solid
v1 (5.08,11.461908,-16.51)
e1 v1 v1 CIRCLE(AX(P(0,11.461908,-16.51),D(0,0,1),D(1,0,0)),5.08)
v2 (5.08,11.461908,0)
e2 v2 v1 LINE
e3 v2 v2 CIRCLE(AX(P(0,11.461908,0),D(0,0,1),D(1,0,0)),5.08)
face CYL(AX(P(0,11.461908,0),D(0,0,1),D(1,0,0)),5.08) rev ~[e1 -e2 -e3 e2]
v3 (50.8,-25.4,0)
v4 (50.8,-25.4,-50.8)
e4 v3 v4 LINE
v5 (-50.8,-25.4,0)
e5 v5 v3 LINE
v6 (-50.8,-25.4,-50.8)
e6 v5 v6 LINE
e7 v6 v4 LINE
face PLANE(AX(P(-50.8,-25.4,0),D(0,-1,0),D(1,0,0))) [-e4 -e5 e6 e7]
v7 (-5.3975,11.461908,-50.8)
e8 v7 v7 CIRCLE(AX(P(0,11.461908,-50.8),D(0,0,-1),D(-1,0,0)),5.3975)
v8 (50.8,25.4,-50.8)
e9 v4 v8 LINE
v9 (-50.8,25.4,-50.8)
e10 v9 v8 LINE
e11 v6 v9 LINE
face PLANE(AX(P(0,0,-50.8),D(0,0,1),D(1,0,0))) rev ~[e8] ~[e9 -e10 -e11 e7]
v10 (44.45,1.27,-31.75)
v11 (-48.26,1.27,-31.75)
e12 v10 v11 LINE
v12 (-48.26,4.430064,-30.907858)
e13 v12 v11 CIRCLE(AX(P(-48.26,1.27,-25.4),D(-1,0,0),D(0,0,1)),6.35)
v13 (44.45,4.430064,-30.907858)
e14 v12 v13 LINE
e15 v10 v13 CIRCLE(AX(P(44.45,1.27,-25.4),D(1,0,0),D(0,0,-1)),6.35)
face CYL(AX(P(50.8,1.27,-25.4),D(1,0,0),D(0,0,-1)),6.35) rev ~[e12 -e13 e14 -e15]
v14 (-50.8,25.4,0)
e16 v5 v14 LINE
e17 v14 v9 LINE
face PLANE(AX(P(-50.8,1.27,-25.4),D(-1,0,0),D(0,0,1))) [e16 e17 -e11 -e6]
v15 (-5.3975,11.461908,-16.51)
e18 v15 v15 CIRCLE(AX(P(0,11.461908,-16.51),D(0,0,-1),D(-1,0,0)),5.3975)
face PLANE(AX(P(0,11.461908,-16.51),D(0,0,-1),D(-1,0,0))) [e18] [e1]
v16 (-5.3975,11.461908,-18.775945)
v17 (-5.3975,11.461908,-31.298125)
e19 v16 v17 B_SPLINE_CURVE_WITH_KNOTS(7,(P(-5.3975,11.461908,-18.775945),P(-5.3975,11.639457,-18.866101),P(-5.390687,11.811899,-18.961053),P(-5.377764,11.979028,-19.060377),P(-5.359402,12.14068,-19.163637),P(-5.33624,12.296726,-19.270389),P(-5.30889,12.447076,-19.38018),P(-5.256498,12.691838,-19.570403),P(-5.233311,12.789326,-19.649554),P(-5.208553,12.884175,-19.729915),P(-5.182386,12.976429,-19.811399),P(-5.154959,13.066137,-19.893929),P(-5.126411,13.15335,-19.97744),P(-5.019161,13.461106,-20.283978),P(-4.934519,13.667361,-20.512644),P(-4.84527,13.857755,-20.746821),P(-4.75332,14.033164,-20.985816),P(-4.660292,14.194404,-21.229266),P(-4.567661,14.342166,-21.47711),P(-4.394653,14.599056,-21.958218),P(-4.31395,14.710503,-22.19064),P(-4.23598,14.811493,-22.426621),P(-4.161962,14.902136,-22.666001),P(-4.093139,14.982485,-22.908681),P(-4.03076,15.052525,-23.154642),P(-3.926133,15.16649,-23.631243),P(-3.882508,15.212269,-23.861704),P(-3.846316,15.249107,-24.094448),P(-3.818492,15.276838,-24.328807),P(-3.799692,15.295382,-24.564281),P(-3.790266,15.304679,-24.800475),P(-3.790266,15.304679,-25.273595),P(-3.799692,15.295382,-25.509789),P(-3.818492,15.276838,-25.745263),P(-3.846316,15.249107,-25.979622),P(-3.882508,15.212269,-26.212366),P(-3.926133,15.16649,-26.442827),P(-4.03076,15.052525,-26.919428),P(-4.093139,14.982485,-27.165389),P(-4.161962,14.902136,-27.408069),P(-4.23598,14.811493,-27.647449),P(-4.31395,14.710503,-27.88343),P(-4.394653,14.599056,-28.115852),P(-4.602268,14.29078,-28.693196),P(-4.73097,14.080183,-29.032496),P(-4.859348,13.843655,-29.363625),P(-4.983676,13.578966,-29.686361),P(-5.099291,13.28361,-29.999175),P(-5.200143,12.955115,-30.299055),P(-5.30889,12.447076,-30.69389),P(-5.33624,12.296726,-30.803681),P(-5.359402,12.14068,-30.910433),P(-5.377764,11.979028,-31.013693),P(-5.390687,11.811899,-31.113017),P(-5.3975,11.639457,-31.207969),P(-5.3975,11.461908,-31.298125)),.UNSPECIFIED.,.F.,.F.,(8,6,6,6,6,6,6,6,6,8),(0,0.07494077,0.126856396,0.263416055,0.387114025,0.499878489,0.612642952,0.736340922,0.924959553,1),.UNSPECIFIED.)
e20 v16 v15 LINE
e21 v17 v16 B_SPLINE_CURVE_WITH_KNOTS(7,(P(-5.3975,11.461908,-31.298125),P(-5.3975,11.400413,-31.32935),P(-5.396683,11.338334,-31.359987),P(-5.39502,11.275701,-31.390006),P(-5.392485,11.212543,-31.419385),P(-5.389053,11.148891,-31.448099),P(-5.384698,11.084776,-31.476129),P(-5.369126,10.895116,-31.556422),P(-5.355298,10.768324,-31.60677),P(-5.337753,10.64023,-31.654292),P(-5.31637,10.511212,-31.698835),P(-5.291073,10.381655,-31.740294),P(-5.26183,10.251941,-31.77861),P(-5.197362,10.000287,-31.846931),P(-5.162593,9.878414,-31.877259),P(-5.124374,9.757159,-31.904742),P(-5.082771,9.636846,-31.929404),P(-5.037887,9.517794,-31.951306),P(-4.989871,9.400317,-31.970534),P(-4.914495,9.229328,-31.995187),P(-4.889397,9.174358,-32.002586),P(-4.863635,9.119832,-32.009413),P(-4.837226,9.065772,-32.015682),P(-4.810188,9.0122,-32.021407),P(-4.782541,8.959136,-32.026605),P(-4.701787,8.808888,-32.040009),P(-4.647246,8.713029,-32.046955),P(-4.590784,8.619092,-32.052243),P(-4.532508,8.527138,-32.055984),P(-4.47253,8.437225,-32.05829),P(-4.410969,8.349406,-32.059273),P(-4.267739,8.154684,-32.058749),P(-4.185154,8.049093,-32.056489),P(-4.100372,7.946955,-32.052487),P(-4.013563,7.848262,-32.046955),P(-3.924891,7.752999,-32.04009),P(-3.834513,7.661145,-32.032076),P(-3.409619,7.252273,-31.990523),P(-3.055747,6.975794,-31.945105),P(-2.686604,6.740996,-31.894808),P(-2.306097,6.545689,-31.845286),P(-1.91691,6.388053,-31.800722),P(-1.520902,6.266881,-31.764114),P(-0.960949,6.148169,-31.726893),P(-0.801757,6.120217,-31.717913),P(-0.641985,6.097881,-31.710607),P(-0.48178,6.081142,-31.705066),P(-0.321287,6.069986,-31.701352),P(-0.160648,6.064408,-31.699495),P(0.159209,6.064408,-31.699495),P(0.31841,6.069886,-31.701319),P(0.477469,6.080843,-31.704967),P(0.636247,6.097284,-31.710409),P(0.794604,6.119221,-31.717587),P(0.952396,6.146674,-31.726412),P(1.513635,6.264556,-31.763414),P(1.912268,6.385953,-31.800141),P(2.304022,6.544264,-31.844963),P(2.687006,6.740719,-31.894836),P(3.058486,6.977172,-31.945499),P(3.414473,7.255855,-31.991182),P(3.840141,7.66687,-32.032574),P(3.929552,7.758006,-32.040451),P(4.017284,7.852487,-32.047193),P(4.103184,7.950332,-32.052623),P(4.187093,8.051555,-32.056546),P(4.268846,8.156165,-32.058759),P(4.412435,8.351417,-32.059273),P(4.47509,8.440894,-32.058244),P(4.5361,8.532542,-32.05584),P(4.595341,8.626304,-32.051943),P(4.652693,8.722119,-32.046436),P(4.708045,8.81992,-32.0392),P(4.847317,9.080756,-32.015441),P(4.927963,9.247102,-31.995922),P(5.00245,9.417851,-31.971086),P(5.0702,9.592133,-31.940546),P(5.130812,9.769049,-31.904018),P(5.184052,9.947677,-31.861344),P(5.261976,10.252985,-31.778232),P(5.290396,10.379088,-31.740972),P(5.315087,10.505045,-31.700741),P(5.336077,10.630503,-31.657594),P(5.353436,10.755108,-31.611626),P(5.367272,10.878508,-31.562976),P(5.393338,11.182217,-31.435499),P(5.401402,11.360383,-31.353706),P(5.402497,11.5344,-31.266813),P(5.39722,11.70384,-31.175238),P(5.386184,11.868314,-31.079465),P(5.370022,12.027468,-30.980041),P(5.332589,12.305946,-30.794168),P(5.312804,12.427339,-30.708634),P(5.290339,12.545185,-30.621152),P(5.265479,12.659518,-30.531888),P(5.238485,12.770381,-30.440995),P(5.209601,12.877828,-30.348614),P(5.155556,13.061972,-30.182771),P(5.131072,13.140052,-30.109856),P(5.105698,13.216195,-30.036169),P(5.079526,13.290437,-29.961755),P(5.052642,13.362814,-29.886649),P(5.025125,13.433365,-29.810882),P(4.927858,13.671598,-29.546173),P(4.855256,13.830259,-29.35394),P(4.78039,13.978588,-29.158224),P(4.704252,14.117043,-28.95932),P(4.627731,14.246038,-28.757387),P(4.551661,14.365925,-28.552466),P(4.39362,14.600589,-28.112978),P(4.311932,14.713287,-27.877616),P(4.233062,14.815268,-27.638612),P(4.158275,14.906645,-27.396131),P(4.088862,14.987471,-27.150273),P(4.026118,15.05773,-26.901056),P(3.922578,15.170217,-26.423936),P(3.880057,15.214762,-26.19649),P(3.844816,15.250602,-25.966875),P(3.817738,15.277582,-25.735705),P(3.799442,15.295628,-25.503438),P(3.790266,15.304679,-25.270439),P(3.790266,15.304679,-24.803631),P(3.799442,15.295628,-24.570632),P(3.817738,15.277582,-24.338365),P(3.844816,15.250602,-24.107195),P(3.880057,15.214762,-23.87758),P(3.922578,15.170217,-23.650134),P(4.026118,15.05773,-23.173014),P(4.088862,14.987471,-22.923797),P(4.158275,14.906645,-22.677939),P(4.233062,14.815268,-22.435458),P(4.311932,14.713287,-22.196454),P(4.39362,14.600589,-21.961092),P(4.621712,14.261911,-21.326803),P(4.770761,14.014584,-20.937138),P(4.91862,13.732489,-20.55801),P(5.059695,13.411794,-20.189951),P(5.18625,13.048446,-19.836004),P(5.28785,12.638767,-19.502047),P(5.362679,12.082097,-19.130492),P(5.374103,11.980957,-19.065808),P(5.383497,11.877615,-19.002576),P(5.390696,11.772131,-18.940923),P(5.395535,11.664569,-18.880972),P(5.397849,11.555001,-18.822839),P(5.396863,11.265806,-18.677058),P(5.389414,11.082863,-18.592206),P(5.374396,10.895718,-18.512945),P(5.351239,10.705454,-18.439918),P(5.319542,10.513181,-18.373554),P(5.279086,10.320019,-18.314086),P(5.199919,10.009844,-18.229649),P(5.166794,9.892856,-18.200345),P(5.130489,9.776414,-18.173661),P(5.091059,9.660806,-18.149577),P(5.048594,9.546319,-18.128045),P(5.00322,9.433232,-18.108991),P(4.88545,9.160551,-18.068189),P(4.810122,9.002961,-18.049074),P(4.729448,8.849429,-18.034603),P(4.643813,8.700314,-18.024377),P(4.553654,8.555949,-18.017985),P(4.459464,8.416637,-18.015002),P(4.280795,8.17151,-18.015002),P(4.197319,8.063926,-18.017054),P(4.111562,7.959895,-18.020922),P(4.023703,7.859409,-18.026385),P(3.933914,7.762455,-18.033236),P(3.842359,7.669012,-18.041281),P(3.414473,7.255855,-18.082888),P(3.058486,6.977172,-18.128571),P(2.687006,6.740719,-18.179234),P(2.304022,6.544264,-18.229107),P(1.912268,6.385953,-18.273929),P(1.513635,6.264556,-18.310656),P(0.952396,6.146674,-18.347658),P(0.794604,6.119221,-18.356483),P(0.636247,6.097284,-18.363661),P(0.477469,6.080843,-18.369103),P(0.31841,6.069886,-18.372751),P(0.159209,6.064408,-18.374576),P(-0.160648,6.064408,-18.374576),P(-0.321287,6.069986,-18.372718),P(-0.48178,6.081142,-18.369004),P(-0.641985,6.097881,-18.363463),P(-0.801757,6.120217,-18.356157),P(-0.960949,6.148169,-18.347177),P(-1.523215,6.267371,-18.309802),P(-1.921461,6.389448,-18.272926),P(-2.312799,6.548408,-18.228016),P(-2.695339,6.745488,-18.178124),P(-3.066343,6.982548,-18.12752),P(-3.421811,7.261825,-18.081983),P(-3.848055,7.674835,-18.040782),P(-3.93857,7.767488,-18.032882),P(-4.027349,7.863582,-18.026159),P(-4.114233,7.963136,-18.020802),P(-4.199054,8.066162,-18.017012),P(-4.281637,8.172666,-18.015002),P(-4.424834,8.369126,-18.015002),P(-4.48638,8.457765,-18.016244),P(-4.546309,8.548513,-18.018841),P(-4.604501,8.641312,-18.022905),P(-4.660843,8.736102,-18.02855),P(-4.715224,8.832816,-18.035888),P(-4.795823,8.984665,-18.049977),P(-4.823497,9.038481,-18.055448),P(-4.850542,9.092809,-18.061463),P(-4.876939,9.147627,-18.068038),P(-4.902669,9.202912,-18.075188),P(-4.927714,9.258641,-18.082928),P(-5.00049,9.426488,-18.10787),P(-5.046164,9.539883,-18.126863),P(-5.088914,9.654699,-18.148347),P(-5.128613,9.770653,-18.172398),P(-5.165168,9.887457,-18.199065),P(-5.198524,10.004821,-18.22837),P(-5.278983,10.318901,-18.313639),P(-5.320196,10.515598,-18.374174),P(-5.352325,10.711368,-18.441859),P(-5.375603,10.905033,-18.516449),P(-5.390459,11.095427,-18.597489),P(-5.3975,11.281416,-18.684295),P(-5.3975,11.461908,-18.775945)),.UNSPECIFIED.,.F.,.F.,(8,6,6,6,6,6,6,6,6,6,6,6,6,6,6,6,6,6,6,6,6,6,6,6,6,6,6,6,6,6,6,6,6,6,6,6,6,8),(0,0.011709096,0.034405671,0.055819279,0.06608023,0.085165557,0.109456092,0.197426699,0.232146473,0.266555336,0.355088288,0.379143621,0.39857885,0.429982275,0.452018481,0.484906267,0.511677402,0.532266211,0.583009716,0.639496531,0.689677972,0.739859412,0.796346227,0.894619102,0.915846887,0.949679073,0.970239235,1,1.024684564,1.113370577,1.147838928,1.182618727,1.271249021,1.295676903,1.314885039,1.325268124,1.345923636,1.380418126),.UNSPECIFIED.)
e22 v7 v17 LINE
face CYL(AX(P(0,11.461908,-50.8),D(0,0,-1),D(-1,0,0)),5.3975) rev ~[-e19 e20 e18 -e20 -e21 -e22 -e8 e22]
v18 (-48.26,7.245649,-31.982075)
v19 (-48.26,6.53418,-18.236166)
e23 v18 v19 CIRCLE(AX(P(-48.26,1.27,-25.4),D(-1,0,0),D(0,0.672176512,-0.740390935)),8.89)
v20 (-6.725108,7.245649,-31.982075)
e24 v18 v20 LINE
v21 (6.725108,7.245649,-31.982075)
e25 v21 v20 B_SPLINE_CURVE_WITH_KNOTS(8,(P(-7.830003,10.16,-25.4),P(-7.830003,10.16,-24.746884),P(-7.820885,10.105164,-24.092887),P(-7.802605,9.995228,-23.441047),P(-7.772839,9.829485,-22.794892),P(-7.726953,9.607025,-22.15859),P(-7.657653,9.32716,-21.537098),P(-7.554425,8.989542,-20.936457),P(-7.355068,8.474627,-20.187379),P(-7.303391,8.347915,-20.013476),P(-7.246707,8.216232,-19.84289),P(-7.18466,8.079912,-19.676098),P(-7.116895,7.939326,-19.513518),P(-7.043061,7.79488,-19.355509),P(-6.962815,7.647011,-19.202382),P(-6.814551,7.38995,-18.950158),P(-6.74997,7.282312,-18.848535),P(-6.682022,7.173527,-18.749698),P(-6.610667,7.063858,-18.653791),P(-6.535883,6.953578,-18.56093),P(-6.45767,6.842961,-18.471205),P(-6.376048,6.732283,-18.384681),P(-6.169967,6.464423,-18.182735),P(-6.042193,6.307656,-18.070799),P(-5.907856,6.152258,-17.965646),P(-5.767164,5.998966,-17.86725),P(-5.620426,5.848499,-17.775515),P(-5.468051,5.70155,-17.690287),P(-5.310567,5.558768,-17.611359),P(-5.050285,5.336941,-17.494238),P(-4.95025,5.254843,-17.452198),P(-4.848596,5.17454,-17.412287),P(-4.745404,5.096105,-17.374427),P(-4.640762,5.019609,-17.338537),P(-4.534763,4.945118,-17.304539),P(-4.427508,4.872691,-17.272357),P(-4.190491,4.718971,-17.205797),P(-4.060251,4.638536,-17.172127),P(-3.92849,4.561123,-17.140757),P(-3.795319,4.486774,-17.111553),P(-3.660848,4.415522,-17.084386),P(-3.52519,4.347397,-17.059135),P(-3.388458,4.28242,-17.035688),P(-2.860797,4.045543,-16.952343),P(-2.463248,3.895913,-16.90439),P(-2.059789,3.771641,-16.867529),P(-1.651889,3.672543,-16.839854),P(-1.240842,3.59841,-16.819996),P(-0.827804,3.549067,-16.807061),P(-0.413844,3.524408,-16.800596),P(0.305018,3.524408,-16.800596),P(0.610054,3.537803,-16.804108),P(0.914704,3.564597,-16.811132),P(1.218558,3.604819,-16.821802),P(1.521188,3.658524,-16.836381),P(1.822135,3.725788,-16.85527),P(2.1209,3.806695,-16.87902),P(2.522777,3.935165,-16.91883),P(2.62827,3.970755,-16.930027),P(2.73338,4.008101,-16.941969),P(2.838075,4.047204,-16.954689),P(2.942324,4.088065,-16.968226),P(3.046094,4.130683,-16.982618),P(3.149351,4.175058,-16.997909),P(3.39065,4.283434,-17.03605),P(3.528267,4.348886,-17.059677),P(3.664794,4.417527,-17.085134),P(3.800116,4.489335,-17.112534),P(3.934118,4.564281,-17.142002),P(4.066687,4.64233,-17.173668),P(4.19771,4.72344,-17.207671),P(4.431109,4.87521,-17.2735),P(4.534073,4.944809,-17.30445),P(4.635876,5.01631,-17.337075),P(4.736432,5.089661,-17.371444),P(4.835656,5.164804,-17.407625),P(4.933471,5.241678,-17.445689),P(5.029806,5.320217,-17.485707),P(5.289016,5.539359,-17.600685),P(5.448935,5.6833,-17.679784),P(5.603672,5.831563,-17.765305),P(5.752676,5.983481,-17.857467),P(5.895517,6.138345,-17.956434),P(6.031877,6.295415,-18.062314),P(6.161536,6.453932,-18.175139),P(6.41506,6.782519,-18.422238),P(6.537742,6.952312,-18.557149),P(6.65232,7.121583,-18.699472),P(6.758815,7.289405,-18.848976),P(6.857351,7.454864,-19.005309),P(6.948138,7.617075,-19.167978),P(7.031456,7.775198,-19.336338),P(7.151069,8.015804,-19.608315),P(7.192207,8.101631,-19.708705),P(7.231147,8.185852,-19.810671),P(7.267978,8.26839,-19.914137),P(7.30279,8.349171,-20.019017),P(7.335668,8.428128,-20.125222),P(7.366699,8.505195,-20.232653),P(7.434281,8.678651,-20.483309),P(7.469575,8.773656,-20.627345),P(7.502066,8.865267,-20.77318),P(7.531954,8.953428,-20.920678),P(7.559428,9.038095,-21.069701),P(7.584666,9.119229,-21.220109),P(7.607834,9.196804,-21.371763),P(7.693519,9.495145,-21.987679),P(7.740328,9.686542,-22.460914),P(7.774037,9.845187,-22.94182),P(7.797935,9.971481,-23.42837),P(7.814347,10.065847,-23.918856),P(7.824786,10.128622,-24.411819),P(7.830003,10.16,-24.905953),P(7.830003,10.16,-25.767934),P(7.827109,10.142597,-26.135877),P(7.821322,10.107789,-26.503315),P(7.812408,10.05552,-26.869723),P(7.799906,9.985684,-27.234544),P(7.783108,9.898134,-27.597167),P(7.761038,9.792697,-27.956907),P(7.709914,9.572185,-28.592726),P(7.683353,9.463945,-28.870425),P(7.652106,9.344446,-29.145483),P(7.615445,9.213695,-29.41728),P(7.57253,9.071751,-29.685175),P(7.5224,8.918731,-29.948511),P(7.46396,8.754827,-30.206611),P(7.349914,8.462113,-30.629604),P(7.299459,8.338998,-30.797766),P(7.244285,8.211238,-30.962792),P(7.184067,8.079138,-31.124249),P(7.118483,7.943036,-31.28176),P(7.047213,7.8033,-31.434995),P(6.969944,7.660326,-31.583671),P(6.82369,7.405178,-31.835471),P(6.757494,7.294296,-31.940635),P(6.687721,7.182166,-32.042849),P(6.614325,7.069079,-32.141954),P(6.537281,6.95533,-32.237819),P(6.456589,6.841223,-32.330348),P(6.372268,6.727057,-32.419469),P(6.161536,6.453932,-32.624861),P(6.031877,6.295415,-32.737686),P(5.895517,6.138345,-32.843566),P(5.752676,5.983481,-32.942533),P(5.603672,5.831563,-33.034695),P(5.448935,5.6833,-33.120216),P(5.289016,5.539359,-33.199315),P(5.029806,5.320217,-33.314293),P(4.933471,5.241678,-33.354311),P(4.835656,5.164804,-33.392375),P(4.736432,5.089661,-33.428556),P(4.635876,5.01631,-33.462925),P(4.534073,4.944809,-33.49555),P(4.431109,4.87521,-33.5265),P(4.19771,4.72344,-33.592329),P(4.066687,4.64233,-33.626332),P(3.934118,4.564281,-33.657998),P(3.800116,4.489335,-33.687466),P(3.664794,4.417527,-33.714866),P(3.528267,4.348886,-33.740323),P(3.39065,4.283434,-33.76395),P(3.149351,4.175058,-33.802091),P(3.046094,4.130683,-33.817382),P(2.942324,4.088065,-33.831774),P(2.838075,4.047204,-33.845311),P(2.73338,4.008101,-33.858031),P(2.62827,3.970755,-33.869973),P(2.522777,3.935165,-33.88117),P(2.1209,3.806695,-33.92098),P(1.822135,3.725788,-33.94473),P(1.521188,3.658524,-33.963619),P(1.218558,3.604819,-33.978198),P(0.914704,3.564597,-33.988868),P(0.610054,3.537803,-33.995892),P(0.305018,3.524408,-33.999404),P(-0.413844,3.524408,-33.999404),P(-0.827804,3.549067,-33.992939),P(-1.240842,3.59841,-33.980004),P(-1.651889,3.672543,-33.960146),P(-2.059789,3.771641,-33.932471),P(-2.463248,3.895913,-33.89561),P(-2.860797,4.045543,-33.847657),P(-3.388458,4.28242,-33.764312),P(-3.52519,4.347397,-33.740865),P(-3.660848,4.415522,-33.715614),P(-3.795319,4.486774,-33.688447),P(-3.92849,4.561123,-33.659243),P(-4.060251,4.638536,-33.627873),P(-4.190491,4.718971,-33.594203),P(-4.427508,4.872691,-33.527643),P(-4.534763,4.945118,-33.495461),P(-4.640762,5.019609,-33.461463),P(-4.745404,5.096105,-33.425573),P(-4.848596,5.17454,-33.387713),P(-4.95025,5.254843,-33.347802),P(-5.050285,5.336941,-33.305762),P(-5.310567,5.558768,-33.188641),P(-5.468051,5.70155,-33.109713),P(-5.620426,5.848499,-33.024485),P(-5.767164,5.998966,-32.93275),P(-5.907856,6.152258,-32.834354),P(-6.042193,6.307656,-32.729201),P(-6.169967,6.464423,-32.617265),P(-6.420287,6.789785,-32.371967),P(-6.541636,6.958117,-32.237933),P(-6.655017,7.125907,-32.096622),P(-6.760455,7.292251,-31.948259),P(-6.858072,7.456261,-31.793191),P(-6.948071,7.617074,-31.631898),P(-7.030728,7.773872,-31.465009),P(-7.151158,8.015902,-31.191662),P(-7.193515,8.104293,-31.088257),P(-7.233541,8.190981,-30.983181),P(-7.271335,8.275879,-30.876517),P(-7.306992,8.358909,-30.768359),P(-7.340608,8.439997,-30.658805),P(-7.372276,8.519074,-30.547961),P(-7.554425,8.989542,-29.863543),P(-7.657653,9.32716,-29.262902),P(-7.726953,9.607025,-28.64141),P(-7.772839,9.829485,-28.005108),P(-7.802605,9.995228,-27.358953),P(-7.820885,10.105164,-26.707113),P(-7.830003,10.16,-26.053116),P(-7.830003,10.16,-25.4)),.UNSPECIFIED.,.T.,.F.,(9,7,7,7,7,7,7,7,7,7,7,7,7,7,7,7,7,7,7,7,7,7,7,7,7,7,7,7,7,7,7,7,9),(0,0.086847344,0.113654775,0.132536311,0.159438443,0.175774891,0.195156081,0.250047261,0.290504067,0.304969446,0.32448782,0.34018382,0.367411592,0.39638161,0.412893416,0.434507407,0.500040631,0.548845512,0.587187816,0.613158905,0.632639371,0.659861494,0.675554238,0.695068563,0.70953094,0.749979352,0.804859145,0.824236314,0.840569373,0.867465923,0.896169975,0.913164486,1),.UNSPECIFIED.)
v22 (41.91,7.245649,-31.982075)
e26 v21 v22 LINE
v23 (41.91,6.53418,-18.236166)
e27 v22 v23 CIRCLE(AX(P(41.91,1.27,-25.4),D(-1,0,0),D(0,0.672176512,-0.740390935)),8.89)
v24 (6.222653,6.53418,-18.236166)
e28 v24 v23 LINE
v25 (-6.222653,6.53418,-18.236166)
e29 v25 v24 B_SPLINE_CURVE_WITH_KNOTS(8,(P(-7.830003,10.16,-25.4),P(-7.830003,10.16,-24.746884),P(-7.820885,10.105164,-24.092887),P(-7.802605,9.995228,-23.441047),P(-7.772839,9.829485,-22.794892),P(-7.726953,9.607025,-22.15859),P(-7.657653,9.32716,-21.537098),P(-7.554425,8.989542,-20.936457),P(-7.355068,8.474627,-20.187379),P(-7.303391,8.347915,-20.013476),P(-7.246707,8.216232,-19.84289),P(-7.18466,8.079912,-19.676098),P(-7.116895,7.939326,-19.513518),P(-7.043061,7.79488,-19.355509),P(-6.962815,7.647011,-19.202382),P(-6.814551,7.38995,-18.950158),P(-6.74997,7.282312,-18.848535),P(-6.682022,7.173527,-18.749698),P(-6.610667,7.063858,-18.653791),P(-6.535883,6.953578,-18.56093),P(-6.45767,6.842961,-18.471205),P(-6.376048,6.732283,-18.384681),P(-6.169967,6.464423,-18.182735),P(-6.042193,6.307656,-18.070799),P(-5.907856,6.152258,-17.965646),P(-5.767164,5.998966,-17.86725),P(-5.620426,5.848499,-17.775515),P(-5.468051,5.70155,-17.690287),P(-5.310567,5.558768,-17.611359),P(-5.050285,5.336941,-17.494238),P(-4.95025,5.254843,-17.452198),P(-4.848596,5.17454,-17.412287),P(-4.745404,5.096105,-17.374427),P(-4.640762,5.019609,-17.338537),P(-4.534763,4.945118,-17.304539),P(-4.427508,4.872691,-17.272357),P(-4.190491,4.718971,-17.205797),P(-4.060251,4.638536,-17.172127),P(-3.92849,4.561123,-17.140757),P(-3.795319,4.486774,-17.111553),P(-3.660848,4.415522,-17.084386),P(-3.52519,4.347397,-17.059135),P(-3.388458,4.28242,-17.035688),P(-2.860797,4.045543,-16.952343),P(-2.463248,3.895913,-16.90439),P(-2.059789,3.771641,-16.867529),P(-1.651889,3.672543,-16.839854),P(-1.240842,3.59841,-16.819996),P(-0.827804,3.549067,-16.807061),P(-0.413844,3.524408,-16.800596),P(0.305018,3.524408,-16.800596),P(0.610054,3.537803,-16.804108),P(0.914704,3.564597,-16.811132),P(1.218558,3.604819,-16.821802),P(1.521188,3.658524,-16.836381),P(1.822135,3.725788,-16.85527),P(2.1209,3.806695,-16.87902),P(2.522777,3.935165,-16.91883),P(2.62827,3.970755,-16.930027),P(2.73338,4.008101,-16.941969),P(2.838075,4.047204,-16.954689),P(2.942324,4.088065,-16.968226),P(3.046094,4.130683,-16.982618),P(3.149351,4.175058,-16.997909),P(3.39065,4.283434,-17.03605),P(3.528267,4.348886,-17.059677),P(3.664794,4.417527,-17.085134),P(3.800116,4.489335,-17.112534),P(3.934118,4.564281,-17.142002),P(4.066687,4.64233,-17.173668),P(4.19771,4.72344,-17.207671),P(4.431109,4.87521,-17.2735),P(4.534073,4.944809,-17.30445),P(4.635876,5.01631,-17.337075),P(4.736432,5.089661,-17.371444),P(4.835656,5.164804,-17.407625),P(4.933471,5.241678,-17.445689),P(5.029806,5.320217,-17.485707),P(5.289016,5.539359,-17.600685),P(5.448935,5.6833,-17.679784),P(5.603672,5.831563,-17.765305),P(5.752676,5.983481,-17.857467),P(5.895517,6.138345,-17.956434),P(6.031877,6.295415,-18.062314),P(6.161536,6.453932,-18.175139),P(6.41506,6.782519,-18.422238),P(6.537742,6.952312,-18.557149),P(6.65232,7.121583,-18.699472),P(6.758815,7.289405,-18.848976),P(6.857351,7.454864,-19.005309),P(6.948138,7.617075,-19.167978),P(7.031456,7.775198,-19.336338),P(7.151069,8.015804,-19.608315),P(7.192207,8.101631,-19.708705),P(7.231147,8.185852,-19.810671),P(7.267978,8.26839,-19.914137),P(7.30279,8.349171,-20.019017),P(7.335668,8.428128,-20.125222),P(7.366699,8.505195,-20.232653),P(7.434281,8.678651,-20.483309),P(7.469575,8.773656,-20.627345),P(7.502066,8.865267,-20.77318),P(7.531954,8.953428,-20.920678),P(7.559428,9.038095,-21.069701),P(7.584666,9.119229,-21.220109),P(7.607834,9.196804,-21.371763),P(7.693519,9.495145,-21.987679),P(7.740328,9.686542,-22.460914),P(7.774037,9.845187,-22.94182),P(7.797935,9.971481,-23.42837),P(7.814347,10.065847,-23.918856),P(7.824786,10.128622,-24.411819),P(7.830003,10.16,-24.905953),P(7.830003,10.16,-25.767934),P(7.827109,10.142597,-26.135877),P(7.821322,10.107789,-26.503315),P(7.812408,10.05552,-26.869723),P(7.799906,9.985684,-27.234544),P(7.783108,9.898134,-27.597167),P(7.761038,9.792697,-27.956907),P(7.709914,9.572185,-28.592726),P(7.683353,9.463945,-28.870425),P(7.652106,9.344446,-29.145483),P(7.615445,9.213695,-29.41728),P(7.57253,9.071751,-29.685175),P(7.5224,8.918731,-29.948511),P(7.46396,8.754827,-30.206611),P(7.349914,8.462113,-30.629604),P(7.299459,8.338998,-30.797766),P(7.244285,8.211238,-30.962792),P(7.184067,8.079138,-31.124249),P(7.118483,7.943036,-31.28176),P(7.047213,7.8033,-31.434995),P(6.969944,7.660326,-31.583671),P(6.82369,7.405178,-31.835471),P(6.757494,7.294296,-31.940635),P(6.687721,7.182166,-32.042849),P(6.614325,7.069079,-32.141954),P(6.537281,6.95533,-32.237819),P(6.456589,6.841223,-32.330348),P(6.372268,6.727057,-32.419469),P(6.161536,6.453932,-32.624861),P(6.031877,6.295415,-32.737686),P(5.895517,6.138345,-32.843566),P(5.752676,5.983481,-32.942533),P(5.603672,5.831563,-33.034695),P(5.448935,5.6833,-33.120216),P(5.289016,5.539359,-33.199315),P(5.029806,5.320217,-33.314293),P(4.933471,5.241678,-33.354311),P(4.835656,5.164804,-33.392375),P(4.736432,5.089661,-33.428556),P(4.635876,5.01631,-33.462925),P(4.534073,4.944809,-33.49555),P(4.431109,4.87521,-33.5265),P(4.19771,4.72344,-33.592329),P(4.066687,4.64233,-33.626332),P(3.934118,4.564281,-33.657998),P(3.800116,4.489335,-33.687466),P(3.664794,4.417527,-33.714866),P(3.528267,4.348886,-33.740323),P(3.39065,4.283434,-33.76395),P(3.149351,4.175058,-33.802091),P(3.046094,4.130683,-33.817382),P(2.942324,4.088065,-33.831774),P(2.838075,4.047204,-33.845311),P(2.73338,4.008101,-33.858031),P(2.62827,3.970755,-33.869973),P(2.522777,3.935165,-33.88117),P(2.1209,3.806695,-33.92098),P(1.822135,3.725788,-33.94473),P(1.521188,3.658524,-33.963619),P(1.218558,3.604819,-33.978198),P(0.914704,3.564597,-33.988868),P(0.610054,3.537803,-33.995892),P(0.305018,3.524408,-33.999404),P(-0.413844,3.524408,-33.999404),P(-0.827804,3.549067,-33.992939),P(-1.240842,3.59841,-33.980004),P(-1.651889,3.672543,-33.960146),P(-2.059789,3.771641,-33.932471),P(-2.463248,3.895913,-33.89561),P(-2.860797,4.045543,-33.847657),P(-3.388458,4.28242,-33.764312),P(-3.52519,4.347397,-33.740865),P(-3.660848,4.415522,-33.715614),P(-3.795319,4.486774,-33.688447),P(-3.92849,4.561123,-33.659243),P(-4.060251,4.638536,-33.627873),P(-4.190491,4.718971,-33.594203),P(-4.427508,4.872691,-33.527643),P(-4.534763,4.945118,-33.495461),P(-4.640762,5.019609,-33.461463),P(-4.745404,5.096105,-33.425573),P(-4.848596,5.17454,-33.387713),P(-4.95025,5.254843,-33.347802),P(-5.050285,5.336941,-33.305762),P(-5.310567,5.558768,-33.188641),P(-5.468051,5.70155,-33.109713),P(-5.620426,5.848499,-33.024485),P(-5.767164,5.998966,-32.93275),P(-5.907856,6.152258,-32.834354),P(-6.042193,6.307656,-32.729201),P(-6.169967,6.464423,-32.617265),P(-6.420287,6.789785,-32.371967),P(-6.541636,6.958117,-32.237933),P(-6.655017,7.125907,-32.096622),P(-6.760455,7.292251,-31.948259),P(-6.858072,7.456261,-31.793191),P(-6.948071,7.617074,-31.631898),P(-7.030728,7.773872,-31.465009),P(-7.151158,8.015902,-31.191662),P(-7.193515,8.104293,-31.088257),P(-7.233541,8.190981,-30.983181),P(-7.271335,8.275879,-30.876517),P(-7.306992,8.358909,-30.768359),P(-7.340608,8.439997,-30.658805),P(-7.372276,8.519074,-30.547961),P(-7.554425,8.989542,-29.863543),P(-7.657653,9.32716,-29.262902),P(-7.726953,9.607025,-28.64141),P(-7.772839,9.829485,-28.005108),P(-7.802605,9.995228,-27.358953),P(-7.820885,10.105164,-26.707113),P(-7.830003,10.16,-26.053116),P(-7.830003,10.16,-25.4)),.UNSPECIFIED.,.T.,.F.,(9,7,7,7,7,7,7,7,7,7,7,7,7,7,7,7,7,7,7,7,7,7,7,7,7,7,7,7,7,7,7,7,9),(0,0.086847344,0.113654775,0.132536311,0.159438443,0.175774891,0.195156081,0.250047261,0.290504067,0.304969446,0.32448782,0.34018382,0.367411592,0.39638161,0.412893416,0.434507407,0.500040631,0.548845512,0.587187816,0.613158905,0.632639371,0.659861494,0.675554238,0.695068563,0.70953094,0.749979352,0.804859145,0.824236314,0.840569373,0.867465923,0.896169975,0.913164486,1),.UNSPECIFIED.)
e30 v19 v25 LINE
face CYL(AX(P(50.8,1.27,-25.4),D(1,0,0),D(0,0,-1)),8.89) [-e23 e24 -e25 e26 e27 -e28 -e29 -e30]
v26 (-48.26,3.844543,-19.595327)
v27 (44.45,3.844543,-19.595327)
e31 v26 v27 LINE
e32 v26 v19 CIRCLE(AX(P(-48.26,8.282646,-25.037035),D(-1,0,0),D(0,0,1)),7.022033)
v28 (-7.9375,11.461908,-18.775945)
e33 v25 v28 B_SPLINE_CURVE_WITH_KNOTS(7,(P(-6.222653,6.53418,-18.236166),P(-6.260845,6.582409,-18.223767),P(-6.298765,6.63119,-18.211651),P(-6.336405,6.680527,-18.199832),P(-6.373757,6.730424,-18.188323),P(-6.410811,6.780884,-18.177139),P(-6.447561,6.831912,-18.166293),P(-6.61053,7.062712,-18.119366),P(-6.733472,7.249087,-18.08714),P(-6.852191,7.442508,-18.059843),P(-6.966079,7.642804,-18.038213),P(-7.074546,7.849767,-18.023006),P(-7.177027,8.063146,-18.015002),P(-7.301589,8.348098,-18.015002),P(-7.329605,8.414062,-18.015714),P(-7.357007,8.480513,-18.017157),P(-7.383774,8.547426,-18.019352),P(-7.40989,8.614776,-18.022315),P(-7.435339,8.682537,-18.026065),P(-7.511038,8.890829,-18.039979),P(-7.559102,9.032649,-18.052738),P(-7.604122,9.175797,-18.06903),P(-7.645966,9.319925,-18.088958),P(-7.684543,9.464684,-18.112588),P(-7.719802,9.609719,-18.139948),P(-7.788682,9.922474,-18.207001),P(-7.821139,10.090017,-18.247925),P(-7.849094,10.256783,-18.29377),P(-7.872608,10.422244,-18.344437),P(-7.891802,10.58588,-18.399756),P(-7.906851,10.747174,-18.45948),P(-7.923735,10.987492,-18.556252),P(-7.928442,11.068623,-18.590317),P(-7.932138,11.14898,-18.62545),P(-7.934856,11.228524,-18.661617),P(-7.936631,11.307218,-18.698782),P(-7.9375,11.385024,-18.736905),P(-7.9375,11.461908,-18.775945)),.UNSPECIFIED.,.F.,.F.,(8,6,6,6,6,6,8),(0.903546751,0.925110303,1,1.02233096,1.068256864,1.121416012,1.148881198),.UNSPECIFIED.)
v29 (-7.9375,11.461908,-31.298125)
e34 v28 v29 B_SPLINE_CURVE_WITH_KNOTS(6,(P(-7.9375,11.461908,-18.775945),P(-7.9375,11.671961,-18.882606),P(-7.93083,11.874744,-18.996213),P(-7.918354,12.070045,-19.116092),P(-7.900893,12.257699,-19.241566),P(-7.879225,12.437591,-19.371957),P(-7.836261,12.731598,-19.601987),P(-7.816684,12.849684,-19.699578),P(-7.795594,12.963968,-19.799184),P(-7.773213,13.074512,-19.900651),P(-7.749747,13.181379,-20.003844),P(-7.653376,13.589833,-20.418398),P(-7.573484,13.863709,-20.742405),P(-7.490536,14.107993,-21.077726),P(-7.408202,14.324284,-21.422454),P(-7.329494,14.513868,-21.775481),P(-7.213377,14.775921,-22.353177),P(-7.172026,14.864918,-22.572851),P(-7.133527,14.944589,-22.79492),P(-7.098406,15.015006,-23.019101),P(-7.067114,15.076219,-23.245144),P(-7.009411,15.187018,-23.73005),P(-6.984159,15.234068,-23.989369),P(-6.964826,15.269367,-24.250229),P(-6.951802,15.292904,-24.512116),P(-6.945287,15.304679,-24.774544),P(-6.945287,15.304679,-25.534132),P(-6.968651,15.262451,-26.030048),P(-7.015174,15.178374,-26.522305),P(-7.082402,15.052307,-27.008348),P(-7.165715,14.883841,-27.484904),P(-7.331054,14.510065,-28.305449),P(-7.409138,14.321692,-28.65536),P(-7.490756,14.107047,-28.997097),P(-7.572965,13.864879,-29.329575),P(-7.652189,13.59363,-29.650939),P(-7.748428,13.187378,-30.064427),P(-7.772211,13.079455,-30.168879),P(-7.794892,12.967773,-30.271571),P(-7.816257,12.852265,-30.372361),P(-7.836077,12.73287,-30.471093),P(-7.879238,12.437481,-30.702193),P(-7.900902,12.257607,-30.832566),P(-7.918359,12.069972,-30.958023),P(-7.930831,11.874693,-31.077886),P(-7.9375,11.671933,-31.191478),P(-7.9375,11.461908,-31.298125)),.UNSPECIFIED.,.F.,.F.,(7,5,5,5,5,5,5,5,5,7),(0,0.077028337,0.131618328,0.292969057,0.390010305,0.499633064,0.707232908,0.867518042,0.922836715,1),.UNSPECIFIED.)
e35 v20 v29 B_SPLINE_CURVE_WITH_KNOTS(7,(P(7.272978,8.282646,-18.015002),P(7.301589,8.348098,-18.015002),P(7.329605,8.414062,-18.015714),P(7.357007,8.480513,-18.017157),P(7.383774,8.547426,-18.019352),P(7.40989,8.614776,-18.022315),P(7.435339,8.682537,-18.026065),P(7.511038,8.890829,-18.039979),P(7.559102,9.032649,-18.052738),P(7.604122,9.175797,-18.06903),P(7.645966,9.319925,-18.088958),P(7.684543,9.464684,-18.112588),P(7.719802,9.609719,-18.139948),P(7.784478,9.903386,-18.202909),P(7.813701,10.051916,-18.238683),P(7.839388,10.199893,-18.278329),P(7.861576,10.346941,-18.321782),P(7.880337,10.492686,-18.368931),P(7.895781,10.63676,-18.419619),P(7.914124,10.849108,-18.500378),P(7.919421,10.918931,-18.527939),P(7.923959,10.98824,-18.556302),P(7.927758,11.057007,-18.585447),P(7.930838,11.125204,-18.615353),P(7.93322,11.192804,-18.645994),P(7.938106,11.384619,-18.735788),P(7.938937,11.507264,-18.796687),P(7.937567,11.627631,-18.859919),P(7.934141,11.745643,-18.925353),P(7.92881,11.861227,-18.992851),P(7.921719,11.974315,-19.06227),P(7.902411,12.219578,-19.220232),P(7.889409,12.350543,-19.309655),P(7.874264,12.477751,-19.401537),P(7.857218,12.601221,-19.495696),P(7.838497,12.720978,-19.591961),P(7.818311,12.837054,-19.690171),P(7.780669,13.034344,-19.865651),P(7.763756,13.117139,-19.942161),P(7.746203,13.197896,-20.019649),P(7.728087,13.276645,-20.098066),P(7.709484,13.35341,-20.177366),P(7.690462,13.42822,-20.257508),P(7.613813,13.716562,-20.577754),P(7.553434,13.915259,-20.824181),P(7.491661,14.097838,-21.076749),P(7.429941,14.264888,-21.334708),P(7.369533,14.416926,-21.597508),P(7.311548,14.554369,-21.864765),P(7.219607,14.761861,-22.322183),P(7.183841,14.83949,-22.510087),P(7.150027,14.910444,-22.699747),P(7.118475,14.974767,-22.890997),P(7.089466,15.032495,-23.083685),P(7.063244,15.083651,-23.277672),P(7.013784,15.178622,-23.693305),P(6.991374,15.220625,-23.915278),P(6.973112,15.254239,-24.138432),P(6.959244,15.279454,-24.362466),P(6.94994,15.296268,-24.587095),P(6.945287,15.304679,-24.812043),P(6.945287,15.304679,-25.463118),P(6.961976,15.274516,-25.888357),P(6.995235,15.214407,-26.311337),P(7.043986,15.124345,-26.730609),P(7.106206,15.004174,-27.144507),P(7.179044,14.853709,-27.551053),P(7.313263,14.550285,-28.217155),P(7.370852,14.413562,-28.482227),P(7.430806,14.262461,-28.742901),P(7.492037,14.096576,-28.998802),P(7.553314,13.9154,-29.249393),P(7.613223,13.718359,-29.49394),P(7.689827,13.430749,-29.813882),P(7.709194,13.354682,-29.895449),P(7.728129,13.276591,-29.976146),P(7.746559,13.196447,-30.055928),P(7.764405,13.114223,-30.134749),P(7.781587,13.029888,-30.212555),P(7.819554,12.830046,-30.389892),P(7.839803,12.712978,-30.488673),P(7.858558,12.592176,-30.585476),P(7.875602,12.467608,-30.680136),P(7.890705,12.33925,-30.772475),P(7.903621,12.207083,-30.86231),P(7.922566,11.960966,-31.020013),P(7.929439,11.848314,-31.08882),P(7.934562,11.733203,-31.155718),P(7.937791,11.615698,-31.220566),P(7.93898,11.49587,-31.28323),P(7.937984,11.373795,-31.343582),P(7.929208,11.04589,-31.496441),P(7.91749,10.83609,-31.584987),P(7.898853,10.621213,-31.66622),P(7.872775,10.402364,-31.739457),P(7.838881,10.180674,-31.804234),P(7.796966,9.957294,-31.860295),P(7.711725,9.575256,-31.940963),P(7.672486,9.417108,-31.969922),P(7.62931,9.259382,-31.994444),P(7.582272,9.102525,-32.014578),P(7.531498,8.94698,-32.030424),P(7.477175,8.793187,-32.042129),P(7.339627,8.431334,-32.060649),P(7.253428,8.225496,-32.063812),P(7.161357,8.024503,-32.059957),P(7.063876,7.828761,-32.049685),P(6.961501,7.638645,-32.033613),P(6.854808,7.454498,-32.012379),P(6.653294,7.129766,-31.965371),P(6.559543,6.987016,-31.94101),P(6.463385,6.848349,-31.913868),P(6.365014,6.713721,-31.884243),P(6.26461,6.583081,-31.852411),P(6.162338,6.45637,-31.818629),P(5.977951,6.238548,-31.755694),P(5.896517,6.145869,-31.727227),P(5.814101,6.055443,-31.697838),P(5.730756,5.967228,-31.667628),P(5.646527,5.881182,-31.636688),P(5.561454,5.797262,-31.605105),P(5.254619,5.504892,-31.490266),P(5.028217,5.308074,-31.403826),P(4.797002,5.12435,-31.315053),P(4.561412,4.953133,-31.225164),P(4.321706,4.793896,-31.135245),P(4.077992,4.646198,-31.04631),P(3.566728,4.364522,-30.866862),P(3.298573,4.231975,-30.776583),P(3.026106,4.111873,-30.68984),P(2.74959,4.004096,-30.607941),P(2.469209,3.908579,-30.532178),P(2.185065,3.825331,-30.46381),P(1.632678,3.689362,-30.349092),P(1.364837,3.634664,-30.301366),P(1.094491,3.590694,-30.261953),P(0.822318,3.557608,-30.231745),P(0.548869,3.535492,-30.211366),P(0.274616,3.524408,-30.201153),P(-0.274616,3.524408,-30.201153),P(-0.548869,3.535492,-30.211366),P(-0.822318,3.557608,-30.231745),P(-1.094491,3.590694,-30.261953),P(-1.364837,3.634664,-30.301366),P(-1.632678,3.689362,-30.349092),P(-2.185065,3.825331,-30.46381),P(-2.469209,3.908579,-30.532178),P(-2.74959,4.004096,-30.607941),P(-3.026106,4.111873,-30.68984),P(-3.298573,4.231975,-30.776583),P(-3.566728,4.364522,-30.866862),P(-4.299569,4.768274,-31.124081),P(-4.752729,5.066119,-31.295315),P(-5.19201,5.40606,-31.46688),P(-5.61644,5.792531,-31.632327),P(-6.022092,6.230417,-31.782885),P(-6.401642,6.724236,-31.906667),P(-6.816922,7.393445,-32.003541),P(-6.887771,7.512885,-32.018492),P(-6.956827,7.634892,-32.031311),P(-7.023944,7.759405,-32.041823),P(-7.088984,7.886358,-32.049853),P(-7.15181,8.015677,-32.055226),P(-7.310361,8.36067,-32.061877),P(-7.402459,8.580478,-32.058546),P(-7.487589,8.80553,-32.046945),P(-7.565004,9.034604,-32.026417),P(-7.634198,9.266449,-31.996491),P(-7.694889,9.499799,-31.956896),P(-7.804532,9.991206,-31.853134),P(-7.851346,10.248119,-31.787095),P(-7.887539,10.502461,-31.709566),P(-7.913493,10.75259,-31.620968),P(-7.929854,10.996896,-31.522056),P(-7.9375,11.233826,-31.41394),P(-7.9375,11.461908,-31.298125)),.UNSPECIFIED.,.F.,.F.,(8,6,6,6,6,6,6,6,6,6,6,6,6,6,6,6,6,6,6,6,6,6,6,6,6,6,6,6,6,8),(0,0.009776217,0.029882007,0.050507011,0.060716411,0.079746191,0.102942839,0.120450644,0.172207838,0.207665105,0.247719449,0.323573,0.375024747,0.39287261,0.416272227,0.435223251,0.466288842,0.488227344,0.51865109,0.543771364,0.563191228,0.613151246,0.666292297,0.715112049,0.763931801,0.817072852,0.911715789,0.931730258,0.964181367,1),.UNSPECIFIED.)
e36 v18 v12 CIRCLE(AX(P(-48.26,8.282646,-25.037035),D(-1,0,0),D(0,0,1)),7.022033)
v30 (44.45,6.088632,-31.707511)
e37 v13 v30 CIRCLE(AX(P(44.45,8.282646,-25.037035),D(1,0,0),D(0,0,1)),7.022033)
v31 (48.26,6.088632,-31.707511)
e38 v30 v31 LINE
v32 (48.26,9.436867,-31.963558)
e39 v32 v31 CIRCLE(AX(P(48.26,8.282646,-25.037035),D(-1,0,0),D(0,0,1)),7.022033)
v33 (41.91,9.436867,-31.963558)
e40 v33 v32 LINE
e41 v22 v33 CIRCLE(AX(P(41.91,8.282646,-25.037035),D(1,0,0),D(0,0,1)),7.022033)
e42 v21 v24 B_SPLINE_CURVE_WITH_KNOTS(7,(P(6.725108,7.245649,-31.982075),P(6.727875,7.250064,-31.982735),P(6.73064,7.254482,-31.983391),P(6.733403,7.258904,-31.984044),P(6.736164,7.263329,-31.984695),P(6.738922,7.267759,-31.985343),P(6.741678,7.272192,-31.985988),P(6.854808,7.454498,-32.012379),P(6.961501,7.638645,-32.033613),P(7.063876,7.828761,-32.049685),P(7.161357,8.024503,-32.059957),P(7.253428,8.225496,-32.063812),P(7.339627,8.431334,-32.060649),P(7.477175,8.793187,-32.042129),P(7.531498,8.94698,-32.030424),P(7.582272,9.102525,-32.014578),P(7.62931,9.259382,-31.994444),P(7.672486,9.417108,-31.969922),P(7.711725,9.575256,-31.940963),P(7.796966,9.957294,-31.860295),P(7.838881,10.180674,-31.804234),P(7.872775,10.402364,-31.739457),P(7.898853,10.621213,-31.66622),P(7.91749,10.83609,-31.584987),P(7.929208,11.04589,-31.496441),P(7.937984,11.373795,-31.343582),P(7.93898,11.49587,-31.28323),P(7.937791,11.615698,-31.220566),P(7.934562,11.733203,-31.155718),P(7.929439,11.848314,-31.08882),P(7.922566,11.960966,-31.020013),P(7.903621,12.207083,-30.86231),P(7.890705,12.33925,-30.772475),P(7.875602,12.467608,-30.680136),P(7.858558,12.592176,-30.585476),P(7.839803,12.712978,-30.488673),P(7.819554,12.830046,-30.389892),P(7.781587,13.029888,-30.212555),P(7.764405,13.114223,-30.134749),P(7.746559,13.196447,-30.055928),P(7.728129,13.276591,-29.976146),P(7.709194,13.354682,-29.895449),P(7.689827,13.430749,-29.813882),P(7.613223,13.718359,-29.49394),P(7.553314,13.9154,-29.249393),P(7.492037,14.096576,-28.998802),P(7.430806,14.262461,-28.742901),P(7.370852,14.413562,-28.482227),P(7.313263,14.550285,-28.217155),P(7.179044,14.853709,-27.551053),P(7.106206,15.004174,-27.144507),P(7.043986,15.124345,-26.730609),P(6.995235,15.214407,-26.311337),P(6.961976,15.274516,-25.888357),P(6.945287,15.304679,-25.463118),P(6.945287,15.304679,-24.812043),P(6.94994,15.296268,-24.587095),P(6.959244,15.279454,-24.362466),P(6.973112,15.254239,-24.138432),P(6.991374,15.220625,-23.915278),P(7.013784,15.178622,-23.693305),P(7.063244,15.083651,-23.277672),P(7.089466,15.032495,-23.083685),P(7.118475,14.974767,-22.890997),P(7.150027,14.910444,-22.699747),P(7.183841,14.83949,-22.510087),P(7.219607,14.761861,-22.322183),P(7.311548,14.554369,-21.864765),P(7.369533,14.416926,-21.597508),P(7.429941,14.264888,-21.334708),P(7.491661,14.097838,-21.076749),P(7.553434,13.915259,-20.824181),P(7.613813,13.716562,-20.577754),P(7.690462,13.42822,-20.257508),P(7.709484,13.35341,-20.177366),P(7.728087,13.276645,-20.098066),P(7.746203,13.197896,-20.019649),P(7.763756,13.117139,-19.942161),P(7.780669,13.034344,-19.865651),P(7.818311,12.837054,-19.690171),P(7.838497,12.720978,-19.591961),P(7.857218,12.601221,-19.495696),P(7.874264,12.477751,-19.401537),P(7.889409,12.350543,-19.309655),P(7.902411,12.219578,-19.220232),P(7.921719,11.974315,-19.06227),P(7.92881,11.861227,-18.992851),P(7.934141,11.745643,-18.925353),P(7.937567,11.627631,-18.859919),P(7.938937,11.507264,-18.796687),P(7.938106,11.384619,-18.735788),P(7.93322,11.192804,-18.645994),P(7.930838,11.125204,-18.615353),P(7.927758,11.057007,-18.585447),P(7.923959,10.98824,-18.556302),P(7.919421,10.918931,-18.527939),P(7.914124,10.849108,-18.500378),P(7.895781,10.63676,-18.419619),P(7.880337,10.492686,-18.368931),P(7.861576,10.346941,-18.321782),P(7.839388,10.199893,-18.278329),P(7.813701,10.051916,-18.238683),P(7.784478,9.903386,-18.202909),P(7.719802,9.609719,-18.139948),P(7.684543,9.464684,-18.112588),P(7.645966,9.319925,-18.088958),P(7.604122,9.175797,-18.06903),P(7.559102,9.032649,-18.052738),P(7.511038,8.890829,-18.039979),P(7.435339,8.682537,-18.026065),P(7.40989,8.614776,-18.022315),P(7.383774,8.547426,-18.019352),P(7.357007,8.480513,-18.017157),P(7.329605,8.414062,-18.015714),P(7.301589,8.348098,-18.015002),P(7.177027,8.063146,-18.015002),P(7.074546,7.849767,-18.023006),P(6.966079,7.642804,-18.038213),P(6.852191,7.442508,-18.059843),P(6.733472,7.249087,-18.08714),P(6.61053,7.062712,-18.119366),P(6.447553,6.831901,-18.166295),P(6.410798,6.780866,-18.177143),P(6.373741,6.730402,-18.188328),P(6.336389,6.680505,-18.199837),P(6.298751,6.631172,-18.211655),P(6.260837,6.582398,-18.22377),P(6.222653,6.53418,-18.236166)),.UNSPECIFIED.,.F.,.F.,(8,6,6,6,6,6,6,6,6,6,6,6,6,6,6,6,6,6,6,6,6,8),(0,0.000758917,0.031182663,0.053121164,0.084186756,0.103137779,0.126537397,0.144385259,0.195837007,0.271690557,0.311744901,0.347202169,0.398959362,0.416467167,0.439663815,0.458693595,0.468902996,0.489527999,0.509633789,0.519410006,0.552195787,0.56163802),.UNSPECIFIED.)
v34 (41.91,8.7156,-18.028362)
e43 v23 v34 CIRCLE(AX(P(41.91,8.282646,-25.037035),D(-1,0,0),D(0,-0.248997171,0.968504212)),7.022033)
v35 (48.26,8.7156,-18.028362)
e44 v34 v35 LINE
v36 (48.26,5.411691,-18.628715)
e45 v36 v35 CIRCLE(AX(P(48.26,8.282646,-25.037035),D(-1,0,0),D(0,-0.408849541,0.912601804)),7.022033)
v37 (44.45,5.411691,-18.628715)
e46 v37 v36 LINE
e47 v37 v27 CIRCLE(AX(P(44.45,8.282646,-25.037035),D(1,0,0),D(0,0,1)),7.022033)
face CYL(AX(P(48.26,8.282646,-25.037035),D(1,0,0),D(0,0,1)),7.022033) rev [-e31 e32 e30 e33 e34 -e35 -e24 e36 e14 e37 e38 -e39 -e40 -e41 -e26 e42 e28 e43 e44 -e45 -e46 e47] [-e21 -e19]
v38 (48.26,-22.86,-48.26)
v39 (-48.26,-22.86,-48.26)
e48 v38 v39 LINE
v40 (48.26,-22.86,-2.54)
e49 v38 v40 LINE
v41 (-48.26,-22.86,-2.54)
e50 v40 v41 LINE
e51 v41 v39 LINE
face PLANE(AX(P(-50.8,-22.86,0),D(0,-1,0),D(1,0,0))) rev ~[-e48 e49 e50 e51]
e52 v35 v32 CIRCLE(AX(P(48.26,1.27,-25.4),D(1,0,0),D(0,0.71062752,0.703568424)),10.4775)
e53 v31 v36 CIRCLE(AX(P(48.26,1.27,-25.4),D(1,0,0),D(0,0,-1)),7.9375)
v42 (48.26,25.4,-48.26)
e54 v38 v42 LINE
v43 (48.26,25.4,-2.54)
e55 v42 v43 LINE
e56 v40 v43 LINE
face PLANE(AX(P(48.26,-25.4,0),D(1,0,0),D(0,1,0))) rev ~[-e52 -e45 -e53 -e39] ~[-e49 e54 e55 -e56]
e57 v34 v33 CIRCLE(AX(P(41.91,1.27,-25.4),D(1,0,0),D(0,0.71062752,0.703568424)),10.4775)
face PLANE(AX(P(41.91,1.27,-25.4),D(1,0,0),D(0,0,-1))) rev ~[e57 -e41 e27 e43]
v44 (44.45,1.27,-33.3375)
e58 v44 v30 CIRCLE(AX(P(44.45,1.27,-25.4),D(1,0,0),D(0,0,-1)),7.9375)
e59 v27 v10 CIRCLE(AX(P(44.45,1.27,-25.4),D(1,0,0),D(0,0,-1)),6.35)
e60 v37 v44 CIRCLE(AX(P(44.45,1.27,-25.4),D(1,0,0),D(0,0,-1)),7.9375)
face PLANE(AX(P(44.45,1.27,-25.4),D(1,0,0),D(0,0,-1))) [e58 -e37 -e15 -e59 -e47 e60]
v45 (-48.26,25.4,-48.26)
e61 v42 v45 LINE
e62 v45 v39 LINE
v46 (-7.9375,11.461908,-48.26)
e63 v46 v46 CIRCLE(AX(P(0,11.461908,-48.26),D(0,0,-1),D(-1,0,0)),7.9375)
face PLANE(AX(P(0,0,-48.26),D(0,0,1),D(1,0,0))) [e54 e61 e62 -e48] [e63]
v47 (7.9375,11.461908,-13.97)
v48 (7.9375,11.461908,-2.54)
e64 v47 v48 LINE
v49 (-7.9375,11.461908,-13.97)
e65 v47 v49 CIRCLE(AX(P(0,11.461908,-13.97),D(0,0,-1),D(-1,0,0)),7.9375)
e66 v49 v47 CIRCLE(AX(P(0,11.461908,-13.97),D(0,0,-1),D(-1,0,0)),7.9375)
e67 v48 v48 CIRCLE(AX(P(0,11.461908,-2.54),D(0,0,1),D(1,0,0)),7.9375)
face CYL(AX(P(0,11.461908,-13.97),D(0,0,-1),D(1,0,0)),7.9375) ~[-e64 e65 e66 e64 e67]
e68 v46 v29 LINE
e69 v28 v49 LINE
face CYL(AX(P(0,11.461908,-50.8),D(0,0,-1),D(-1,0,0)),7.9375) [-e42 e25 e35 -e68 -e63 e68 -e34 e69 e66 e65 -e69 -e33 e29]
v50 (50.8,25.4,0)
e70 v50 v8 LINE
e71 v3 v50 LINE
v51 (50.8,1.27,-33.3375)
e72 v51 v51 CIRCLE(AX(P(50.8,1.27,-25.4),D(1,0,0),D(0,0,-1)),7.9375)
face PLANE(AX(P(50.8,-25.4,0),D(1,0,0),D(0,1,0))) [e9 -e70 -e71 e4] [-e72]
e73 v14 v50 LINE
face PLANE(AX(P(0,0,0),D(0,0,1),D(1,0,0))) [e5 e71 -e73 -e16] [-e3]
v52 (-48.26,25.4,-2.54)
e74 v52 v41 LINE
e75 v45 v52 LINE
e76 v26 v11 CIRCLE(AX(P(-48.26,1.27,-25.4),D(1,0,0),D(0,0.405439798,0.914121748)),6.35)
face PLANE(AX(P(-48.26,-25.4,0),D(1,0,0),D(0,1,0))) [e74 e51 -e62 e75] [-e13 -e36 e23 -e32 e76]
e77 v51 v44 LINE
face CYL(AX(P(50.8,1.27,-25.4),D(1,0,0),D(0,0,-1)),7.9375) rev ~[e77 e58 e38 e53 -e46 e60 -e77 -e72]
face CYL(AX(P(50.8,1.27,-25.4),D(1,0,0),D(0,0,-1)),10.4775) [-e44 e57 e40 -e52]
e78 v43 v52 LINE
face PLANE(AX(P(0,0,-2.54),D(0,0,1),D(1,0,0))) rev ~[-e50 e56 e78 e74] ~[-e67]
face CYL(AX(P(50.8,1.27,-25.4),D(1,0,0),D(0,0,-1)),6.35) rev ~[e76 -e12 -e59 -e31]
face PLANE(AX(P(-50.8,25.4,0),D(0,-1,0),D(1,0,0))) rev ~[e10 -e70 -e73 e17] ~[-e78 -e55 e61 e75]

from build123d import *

# Parameters (mm, degrees)
SKETCH1_W           = 101.6
SKETCH1_H           = 50.8
BOSS_EXTRUDE1_DEPTH = 50.8
SKETCH2_R           = 7.9375
CUT_EXTRUDE1_DEPTH  = 6.35
SKETCH3_R           = 6.35
CUT_EXTRUDE2_DEPTH  = 102.6
SKETCH4_R           = 5.3975
CUT_EXTRUDE3_DEPTH  = 34.29
SHELL9_T            = -2.54
SKETCH5_R           = 7.022033088
CUT_EXTRUDE4_DEPTH  = 96.52
SKETCH7_R           = 7.9375
BOSS_EXTRUDE3_DEPTH = 11.43
SKETCH9_R           = 5.08
CUT_EXTRUDE5_DEPTH  = 34.29
SKETCH10_R          = 6.35
BOSS_EXTRUDE4_DEPTH = 2.54


with BuildPart() as part:
    # Sketch1 → Boss-Extrude1 (new body)
    with BuildSketch(Plane.XY):
        Rectangle(SKETCH1_W, SKETCH1_H)
    extrude(amount=-BOSS_EXTRUDE1_DEPTH)

    # Sketch2 → Cut-Extrude1 (cut)
    with BuildSketch(Plane(origin=(50.8, 0, 0), x_dir=(0, 0, -1), z_dir=(1, 0, 0))):
        with Locations((25.4, 1.27)):
            Circle(SKETCH2_R)
    extrude(amount=-CUT_EXTRUDE1_DEPTH, mode=Mode.SUBTRACT)

    # Sketch3 → Cut-Extrude2 (cut, through all)
    with BuildSketch(Plane(origin=(50.8, 0, 0), x_dir=(0, 0, -1), z_dir=(1, 0, 0))):
        with Locations((25.4, 1.27)):
            Circle(SKETCH3_R)
    extrude(amount=-CUT_EXTRUDE2_DEPTH, mode=Mode.SUBTRACT)

    # Sketch4 → Cut-Extrude3 (cut)
    with BuildSketch(Plane(origin=(0, 0, -50.8), x_dir=(-1, 0, 0), z_dir=(0, 0, -1))):
        with Locations((0, 11.461907579)):
            Circle(SKETCH4_R)
    extrude(amount=-CUT_EXTRUDE3_DEPTH, mode=Mode.SUBTRACT)

    # Shell9
    shell9_openings = [part.faces().sort_by_distance(p)[0] for p in [
        (0, 25.4, -25.4),
    ]]
    offset(amount=SHELL9_T, openings=shell9_openings, kind=Kind.INTERSECTION)

    # Sketch5 → Cut-Extrude4 (cut)
    with BuildSketch(Plane.ZY.offset(-48.26)):
        with Locations((-25.037035013, 8.282646085)):
            Circle(SKETCH5_R)
    extrude(amount=CUT_EXTRUDE4_DEPTH, mode=Mode.SUBTRACT)

    # Sketch7 → Boss-Extrude3 (add)
    with BuildSketch(Plane.XY.offset(-13.97)):
        with Locations((0, 11.461907579)):
            Circle(SKETCH7_R)
    extrude(amount=BOSS_EXTRUDE3_DEPTH)

    # Sketch9 → Cut-Extrude5 (cut)
    with BuildSketch(Plane.XY):
        with Locations((0, 11.461907579)):
            Circle(SKETCH9_R)
    extrude(amount=-CUT_EXTRUDE5_DEPTH, mode=Mode.SUBTRACT)

    # Sketch10 → Boss-Extrude4 (add)
    with BuildSketch(Plane.ZY.offset(50.8)):
        with Locations((-25.4, 1.27)):
            Circle(SKETCH10_R)
    extrude(amount=-BOSS_EXTRUDE4_DEPTH)


solid = part.part
